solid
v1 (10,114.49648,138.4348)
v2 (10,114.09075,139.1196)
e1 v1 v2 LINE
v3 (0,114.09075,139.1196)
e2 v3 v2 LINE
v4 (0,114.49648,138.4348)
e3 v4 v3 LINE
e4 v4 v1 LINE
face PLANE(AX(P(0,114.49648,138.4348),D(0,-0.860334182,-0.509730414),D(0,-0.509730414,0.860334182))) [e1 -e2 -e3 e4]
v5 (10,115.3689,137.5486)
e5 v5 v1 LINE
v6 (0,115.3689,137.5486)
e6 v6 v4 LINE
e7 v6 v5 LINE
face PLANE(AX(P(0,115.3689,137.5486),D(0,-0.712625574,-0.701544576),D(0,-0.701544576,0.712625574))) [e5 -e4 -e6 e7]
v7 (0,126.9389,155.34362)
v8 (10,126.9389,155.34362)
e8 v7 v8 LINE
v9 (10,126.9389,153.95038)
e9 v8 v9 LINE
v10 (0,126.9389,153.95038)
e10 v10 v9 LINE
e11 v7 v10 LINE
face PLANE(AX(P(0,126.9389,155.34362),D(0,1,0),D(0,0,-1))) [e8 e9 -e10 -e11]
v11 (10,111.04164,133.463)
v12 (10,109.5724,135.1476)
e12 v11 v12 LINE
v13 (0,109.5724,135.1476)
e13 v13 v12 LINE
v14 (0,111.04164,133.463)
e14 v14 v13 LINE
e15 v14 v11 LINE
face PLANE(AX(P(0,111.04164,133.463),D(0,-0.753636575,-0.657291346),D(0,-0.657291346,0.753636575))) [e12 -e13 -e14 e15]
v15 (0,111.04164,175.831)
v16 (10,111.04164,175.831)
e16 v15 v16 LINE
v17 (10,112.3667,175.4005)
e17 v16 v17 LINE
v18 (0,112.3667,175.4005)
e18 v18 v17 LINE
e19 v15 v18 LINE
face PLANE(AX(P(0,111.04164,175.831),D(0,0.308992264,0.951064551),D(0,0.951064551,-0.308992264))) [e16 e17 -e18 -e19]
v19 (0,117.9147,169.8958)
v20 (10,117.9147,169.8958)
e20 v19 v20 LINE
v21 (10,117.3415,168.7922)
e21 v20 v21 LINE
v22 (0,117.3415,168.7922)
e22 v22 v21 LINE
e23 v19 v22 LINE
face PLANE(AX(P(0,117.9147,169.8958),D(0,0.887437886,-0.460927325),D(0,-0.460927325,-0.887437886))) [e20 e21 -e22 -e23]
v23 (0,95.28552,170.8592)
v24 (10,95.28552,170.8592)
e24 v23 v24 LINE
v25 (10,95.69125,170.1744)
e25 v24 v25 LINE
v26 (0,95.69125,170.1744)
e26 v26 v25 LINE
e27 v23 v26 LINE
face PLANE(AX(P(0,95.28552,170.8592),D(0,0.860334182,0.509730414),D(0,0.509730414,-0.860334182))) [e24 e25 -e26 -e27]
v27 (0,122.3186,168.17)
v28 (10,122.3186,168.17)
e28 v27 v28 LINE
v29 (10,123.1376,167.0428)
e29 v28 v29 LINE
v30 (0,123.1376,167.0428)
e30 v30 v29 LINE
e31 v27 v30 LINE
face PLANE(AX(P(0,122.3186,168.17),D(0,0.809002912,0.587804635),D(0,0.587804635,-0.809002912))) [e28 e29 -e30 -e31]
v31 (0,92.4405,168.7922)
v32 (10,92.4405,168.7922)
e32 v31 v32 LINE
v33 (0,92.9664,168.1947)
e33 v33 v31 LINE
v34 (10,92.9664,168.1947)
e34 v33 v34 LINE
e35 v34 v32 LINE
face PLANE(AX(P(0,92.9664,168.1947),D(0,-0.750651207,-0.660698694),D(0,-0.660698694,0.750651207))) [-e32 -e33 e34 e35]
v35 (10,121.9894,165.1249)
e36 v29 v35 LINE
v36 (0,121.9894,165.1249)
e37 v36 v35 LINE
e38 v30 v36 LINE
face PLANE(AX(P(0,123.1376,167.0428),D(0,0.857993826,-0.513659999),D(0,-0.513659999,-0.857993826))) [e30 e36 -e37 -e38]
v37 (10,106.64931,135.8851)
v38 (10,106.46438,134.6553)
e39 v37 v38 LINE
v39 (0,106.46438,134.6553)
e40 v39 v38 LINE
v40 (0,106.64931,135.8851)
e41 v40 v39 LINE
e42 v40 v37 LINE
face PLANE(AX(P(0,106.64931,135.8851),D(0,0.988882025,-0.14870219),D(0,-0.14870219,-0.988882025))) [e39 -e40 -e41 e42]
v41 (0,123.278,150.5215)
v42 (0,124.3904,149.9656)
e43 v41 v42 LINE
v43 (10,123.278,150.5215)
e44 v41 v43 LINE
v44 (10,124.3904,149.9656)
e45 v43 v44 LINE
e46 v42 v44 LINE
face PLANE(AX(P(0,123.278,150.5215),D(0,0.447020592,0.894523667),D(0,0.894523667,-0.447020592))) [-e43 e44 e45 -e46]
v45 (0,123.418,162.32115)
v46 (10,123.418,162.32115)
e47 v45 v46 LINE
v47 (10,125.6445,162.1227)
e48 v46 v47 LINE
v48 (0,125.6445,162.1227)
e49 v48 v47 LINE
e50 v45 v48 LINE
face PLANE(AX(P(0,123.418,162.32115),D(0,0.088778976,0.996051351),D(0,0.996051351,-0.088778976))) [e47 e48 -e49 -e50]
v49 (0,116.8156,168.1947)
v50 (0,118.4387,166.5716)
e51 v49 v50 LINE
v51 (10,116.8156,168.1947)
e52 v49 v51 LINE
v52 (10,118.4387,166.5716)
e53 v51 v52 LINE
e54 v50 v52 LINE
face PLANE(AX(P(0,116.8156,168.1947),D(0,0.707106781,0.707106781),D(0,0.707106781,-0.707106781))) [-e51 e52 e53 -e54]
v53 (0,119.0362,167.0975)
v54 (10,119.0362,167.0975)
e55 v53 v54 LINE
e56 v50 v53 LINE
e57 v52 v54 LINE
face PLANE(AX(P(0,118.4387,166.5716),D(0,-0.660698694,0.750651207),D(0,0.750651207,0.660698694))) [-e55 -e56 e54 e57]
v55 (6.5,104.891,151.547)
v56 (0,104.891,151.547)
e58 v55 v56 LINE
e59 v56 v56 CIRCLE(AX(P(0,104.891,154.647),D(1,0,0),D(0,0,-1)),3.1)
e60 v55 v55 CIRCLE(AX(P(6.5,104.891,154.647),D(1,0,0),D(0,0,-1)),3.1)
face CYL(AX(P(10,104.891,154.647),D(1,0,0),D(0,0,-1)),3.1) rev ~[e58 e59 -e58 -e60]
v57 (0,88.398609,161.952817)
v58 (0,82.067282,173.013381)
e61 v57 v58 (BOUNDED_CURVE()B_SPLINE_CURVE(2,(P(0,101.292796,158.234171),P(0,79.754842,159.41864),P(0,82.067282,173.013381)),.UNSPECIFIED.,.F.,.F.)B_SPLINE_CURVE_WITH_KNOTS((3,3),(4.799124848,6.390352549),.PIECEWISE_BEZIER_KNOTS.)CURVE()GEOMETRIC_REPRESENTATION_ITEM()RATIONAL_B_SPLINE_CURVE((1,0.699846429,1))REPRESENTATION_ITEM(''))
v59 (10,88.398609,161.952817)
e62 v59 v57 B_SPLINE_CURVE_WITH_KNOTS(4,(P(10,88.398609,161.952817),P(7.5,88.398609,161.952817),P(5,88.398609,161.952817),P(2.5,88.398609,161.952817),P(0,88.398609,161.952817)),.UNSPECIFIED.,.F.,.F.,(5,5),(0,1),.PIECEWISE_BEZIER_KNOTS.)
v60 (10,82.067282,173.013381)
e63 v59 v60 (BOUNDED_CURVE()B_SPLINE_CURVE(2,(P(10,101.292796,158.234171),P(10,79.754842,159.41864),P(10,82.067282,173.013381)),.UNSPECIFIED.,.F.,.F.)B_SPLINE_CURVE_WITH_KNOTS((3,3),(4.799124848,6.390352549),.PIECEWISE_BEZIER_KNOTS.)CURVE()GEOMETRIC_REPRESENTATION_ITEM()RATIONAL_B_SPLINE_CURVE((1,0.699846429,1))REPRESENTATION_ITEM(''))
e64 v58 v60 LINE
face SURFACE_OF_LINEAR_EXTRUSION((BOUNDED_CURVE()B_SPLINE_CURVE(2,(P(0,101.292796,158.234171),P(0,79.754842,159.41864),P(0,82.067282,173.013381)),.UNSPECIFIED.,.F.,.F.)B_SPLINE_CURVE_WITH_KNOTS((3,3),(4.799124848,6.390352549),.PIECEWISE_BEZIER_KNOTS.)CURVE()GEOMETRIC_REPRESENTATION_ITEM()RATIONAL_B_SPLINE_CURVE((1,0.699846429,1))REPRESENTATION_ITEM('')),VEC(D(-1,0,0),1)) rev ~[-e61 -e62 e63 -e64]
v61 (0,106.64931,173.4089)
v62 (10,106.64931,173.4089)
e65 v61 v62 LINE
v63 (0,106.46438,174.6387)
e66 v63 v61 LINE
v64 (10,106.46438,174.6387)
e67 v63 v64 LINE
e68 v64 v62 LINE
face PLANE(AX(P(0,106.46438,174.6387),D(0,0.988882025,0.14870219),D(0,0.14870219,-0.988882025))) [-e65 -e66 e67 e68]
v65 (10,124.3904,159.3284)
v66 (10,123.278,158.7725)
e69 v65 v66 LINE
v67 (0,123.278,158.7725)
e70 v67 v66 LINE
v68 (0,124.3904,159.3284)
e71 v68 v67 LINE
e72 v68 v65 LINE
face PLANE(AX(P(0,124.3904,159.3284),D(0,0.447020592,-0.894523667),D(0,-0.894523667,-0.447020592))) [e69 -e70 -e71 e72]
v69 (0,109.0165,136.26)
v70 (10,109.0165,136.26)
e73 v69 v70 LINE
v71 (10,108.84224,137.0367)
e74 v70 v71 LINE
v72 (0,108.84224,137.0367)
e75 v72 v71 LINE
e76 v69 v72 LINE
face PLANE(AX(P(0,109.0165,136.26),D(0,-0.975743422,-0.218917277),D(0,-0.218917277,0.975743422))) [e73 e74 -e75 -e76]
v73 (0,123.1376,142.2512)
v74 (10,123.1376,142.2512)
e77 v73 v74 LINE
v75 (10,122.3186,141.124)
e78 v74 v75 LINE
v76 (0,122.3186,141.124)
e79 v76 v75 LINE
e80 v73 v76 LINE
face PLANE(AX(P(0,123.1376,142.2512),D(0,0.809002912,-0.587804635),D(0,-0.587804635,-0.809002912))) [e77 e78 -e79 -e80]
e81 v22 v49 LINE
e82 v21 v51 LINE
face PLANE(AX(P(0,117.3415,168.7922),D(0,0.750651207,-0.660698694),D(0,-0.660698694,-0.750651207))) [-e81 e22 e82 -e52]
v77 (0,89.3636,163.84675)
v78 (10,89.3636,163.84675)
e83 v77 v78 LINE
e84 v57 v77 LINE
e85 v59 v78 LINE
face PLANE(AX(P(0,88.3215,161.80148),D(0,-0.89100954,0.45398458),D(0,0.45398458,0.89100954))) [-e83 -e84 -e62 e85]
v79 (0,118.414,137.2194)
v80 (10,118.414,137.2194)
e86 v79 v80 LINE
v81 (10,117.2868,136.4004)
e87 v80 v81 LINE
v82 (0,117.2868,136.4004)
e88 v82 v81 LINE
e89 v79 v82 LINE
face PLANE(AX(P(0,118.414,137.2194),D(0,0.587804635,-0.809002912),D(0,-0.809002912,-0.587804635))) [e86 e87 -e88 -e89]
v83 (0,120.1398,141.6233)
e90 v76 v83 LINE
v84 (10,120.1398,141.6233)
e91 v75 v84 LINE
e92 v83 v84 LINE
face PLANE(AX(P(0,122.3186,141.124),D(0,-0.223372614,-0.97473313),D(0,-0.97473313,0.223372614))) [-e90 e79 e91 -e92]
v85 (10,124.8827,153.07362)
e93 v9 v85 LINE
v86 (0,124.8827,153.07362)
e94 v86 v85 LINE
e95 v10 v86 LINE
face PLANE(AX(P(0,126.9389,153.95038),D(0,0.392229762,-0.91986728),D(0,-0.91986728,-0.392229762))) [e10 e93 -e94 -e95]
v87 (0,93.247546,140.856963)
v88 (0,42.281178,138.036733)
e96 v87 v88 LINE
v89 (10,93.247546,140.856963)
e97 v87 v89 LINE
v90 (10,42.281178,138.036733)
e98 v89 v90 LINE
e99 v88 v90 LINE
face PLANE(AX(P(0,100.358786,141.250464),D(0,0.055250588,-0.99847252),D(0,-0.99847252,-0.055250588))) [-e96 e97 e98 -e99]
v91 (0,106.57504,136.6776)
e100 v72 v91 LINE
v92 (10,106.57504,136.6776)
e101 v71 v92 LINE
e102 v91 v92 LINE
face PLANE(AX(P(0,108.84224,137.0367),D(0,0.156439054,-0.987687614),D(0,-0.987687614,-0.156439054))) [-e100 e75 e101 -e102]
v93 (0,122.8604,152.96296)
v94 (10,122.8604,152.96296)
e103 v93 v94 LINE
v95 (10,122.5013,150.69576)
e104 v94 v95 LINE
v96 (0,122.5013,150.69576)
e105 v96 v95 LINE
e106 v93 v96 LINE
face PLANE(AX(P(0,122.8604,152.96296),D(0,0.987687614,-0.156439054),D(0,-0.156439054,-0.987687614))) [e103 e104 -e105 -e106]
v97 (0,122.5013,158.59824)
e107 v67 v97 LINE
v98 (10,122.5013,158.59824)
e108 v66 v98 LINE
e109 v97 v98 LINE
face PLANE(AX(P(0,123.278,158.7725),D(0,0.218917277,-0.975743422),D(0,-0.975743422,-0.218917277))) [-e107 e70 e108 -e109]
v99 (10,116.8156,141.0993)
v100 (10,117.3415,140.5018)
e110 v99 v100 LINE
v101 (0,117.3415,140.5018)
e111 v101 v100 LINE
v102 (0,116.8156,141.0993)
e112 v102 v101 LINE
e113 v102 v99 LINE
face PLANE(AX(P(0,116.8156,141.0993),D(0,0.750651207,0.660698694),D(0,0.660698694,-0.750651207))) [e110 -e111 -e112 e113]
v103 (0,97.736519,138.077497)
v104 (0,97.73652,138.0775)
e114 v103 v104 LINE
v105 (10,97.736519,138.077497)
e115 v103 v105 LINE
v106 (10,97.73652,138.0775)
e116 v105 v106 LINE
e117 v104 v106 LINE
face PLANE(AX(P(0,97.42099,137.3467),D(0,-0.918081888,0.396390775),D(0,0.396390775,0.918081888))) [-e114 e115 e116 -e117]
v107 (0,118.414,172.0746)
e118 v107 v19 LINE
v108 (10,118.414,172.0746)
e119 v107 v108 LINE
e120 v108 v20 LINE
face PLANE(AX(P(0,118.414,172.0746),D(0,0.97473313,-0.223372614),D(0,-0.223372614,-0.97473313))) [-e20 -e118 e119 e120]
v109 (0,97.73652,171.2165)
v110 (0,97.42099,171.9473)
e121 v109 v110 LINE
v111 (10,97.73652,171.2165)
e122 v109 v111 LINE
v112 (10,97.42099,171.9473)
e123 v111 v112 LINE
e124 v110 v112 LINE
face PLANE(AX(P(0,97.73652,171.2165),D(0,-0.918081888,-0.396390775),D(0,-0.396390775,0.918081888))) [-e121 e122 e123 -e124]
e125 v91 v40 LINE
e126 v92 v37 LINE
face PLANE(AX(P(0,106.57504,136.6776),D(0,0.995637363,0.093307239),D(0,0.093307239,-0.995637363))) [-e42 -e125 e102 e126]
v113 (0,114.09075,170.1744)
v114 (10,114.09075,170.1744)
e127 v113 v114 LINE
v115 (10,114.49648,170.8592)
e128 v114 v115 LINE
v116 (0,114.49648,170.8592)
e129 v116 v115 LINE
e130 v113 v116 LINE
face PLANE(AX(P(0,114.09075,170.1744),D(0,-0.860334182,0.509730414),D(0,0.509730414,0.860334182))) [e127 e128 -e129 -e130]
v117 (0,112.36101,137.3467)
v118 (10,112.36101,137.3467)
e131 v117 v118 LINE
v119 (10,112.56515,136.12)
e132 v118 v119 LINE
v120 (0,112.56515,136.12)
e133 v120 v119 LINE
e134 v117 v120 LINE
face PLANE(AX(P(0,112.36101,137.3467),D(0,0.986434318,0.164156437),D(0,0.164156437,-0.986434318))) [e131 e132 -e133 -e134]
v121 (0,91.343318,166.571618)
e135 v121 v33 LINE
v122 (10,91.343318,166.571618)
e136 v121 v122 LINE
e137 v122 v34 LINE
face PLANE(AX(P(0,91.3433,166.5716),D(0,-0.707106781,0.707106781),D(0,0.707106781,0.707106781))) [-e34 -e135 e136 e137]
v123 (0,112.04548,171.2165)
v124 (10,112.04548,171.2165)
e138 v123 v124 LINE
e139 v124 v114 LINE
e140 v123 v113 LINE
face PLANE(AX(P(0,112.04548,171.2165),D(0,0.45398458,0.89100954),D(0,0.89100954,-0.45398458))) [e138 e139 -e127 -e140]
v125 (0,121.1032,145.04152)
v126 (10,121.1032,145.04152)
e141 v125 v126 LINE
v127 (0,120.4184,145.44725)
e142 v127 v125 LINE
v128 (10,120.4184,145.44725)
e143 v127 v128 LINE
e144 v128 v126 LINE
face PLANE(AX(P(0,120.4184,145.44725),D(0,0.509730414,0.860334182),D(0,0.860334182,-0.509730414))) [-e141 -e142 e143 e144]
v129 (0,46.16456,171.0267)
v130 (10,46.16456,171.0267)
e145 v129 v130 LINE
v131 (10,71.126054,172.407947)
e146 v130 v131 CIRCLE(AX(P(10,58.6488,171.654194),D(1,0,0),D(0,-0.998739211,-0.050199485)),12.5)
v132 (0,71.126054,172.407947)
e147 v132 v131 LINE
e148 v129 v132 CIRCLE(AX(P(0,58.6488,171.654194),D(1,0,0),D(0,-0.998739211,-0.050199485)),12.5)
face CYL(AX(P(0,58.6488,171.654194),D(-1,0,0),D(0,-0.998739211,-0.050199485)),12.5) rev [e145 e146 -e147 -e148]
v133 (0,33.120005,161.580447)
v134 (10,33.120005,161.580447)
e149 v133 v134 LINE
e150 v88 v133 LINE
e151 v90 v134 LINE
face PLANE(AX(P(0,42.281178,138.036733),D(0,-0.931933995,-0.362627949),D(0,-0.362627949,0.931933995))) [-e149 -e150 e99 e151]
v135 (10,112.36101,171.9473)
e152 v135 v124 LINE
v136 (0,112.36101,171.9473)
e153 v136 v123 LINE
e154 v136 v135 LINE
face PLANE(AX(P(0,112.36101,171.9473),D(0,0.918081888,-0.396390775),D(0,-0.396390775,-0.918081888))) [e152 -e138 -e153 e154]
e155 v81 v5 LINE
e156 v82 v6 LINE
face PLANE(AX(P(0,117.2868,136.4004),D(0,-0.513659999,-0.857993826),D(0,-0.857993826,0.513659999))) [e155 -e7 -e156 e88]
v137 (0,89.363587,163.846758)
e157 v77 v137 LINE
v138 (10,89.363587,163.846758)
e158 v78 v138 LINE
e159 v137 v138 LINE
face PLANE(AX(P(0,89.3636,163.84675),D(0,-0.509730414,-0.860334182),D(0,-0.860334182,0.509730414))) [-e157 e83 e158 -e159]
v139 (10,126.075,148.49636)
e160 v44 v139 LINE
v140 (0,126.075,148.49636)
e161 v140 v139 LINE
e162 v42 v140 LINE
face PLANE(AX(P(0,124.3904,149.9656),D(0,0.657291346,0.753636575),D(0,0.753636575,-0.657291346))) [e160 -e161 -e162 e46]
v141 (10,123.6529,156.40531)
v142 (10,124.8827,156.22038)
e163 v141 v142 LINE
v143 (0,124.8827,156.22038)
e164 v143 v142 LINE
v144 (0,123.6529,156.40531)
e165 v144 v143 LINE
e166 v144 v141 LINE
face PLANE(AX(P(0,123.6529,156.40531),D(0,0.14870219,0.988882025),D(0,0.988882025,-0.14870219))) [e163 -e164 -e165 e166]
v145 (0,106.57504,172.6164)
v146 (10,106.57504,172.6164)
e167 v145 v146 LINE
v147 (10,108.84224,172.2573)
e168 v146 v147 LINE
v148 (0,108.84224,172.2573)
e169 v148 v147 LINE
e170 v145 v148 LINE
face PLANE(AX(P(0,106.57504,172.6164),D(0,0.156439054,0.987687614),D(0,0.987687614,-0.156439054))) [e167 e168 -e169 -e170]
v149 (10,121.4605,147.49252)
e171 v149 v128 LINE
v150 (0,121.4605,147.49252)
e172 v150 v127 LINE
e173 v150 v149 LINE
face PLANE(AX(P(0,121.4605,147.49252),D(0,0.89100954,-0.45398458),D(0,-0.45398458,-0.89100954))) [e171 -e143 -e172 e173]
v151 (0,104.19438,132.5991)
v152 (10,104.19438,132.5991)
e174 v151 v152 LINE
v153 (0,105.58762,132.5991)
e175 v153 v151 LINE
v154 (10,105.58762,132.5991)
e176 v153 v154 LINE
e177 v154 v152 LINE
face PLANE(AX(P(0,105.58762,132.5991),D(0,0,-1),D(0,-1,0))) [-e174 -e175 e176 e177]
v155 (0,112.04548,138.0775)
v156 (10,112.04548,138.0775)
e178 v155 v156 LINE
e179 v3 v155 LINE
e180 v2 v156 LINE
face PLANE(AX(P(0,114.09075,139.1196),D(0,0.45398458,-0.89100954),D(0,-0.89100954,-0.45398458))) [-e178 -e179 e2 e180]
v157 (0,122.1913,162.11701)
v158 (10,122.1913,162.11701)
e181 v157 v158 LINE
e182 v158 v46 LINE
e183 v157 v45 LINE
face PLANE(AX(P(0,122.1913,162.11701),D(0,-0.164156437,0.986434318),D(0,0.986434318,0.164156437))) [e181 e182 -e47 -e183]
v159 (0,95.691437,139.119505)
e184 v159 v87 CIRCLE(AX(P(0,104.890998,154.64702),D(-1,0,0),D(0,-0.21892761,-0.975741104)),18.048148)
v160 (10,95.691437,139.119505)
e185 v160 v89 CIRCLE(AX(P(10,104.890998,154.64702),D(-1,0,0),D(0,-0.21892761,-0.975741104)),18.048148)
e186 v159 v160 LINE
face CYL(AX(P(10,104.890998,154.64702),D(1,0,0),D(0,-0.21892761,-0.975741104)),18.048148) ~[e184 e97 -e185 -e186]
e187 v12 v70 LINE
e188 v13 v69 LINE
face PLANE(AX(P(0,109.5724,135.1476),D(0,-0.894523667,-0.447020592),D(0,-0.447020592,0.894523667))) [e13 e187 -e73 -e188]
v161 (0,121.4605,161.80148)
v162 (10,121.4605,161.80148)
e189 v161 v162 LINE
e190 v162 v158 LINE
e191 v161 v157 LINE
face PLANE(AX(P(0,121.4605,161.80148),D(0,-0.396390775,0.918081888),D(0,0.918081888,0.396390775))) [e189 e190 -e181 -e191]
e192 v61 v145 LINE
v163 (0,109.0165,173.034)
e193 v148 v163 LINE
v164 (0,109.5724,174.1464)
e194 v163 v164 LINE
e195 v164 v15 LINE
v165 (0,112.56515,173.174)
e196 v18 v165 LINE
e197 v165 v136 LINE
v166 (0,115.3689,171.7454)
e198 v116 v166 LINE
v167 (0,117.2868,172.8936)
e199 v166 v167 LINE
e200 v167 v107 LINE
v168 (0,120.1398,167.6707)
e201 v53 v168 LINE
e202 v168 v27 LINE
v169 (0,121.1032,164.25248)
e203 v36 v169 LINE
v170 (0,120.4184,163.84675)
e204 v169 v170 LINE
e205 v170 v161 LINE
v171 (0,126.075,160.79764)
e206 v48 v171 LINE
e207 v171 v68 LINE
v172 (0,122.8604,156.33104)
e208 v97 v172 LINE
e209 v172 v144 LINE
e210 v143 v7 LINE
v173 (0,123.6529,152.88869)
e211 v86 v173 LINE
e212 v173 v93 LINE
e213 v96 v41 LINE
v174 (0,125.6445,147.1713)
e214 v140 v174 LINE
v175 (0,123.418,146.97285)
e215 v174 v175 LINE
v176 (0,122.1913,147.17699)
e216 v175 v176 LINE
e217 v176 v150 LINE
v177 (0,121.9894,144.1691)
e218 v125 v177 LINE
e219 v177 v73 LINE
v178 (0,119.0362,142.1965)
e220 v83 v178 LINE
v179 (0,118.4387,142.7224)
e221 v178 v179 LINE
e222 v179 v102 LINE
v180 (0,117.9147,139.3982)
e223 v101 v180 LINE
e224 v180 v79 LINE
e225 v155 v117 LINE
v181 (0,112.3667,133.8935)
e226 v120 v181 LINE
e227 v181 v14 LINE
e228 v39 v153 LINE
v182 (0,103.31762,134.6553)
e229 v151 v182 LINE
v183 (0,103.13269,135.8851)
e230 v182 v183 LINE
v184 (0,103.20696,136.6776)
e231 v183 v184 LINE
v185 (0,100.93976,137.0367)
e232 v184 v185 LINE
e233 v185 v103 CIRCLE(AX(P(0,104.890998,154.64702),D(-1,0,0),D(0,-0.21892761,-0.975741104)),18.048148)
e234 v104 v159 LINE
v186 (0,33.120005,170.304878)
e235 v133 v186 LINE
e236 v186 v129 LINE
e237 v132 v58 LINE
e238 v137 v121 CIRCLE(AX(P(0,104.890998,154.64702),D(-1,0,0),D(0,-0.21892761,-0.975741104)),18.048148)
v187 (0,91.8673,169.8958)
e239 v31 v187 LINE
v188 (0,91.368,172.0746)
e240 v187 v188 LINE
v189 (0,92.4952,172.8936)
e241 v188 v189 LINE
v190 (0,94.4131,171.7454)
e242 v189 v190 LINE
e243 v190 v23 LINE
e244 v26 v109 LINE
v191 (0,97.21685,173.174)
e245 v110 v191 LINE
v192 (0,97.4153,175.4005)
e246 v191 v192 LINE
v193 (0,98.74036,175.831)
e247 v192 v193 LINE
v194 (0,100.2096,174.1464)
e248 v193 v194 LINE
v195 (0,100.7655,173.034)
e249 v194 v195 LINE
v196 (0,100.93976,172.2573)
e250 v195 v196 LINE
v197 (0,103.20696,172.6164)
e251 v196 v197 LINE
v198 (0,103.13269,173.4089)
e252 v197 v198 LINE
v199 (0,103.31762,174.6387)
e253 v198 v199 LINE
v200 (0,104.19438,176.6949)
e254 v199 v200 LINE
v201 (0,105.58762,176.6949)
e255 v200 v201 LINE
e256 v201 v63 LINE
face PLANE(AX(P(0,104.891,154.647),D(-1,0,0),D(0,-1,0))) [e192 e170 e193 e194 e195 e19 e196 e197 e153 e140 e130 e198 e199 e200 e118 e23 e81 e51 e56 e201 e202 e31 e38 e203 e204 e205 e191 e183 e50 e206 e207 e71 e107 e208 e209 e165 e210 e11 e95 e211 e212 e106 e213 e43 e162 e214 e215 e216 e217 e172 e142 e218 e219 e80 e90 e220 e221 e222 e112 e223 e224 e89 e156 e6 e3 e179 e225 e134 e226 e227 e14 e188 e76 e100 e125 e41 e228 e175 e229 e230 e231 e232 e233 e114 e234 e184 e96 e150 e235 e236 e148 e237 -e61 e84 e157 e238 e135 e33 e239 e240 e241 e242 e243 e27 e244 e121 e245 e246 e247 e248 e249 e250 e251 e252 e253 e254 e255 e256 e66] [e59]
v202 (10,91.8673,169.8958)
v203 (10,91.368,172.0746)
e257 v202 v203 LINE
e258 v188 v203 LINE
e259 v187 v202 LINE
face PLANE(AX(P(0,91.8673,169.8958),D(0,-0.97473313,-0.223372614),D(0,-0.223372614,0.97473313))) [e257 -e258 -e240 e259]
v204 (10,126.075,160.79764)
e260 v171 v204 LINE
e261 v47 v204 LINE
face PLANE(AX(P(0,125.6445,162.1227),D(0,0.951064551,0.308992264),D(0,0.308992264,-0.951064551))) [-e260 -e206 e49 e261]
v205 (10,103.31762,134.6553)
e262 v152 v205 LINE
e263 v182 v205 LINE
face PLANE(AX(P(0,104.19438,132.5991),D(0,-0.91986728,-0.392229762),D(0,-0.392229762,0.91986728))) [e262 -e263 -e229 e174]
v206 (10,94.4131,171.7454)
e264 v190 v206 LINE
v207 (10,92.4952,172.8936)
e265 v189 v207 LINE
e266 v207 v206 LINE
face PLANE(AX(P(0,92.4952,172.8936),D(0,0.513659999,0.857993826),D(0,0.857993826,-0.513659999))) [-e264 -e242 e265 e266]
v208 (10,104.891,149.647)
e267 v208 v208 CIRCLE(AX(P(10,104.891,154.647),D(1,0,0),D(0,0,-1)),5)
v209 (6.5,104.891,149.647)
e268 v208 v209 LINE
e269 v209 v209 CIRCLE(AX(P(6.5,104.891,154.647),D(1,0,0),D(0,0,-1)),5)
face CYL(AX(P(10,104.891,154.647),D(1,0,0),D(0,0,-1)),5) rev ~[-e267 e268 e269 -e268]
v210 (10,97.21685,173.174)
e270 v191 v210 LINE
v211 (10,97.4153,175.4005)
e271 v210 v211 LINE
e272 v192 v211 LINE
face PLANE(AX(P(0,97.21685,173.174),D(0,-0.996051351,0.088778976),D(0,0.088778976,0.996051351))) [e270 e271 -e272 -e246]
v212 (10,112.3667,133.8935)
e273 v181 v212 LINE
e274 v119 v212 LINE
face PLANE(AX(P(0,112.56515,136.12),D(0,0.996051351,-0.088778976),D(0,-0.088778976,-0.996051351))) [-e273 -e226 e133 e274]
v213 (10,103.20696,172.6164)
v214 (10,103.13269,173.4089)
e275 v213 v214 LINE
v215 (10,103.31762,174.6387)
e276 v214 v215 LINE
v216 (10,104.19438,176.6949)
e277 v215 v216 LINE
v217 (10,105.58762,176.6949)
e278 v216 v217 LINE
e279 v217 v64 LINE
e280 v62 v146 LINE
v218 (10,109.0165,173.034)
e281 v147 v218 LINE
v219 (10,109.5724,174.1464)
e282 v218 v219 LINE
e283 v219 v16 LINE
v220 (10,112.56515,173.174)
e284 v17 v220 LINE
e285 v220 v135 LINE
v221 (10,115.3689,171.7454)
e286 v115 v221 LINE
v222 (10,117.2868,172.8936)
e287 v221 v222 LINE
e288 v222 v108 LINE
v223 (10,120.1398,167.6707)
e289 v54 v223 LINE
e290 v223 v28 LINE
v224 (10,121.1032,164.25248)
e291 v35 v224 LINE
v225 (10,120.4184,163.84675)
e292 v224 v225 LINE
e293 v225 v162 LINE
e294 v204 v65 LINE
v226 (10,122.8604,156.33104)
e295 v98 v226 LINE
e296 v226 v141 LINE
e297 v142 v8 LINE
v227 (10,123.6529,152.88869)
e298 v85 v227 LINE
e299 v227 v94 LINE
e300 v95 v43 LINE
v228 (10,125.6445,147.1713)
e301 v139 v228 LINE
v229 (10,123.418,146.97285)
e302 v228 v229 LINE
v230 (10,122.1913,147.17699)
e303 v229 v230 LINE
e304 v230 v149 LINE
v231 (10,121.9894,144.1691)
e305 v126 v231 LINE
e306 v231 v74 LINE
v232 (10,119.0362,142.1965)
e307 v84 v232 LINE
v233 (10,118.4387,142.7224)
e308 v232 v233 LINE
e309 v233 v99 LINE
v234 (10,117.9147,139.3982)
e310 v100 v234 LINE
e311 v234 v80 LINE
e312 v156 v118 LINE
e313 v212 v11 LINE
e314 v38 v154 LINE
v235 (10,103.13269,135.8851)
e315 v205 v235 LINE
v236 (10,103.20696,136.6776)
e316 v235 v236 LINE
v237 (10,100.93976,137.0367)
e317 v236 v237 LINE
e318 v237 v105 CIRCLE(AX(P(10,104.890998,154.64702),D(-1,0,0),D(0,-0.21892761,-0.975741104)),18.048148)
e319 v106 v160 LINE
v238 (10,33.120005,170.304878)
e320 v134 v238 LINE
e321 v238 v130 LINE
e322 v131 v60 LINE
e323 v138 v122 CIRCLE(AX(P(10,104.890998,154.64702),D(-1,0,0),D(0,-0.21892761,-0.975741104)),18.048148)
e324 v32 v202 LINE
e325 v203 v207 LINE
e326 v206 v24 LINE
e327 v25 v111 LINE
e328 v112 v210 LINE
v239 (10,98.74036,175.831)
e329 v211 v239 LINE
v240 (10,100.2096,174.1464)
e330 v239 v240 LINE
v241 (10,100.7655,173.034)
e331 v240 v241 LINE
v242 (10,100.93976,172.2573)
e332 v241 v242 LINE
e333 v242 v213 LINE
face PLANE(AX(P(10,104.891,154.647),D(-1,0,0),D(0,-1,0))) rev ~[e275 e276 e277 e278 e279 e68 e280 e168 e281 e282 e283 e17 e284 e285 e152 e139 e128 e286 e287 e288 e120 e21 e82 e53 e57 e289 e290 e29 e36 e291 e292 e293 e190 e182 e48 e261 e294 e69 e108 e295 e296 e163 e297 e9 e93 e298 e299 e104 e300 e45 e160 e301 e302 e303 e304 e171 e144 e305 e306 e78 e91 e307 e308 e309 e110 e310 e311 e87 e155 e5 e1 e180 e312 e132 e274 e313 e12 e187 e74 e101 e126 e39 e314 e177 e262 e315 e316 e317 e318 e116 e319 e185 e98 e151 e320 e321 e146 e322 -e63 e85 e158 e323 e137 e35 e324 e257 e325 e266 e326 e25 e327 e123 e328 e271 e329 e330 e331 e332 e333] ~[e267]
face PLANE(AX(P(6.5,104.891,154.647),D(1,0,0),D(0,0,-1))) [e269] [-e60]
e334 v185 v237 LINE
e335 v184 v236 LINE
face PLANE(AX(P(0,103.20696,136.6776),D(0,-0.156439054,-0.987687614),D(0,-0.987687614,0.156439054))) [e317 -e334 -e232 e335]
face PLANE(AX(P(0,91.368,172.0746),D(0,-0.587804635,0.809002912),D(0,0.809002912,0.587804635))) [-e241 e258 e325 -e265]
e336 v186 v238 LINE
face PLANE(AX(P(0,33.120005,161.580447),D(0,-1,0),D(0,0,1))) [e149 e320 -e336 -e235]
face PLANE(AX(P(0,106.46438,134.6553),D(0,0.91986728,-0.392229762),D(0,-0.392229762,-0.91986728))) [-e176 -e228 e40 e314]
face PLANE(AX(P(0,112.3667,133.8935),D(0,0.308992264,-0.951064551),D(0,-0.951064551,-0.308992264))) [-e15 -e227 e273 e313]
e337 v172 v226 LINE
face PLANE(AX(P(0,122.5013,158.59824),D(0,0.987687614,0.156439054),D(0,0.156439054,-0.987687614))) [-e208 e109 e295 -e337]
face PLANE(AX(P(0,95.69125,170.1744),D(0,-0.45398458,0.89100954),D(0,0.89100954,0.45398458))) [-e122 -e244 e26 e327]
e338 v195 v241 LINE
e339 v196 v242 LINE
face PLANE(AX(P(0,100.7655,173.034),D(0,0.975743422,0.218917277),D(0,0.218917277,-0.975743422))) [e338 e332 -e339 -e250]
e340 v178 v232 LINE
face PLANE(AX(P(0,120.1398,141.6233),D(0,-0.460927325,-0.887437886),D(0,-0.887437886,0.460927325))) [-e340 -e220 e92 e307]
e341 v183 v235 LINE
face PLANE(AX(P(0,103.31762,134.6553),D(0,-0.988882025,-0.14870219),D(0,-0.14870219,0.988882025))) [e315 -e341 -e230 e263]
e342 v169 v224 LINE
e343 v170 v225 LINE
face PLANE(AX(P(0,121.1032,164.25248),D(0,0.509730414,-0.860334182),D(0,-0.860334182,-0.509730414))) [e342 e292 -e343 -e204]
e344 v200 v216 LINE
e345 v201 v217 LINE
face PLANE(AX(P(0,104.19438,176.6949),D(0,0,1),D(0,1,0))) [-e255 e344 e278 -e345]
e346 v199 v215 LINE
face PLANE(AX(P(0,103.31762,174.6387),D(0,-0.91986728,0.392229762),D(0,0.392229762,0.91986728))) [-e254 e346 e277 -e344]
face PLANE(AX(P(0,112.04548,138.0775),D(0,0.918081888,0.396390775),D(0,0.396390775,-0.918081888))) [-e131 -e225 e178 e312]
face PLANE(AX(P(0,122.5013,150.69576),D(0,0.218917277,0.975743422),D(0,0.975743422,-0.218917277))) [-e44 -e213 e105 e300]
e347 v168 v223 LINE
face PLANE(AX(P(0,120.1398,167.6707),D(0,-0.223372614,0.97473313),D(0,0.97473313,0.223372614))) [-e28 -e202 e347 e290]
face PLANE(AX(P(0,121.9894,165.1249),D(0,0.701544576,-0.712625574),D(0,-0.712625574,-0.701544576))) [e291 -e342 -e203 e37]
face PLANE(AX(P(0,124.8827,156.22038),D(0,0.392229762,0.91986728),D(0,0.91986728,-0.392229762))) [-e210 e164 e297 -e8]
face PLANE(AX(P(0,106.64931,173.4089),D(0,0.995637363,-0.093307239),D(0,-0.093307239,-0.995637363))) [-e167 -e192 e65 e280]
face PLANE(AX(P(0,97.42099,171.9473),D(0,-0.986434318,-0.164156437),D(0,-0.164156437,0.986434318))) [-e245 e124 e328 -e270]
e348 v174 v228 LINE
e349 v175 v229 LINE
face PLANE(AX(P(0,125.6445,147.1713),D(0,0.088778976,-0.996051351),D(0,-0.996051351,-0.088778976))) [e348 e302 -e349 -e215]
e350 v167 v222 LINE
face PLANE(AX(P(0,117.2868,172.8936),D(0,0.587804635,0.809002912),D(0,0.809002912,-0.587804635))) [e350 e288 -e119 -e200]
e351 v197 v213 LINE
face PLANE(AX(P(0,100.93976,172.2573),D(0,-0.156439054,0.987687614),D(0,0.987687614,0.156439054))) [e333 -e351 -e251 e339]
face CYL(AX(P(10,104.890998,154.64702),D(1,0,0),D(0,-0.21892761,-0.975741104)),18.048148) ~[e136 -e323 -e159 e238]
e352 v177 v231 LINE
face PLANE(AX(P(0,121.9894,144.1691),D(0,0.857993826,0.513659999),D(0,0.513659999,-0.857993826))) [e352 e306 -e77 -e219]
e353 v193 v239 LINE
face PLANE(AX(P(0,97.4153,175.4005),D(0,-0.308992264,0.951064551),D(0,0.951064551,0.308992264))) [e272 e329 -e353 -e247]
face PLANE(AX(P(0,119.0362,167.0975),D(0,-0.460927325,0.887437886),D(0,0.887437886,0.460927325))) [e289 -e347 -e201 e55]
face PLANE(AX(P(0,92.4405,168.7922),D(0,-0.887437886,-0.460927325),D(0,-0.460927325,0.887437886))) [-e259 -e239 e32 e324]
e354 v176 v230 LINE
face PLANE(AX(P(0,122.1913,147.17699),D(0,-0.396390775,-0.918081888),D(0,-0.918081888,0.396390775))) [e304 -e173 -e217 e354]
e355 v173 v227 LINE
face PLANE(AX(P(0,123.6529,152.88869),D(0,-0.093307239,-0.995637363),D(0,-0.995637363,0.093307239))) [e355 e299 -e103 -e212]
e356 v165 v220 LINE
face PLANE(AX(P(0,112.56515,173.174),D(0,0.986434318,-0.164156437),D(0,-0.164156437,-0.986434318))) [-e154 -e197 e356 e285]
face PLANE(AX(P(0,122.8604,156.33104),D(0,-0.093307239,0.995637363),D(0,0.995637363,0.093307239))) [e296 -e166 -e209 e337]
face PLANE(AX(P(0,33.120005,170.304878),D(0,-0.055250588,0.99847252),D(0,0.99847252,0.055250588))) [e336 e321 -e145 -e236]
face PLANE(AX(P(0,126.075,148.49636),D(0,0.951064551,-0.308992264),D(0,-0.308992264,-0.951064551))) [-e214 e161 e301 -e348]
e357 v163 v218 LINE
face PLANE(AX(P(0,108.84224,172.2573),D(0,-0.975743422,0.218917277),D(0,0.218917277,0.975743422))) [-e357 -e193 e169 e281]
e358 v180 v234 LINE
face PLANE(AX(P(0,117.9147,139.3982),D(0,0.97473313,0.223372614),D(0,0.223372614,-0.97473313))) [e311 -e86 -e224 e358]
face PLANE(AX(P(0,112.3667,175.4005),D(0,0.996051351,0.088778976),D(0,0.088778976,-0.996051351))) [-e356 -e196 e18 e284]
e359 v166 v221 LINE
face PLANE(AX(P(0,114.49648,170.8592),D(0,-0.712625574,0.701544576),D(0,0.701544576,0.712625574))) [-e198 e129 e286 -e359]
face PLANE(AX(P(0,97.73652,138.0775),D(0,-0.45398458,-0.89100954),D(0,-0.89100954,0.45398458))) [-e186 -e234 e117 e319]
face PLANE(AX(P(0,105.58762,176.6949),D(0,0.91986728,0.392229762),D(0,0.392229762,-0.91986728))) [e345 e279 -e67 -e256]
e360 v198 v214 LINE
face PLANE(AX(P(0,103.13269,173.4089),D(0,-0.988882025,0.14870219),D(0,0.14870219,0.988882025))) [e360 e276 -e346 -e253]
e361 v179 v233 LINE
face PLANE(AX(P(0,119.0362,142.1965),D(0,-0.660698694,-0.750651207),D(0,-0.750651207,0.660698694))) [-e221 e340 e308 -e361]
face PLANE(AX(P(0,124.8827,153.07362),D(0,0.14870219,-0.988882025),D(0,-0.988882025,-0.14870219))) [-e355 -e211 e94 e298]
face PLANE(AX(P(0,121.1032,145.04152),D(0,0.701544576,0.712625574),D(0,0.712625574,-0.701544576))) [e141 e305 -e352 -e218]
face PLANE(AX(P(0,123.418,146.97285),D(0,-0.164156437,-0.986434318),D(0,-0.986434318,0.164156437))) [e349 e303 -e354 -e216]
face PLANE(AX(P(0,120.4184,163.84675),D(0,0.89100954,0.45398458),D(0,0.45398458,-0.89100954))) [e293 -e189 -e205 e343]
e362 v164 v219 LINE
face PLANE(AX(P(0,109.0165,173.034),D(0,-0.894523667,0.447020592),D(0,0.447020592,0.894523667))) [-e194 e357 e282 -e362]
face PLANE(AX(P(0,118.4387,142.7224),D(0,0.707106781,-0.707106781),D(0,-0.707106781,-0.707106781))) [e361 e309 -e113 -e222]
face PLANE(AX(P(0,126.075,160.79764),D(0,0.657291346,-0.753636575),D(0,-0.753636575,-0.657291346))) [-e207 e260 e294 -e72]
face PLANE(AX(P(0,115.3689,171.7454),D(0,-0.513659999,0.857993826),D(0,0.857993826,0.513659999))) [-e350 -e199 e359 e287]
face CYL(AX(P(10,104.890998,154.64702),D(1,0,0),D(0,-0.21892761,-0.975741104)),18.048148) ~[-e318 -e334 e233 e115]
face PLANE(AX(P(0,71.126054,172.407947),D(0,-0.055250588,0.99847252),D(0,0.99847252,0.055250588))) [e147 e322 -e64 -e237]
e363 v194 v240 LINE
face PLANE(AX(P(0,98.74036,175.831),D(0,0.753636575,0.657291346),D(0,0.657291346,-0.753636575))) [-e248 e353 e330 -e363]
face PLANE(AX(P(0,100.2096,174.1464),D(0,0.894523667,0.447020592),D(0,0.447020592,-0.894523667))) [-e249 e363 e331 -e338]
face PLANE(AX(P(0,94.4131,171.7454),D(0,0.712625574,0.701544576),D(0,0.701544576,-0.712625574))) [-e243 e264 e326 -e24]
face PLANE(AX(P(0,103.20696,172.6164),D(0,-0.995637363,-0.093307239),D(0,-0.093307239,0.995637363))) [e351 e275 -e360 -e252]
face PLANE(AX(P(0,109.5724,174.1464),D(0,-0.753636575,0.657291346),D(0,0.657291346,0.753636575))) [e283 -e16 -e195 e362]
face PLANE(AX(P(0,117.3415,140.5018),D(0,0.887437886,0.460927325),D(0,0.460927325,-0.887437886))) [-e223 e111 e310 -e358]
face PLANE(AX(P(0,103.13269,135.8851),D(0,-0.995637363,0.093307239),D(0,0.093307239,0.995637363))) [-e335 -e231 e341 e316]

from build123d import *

# Parameters (mm, degrees)
BOSS_EXTRUDE1_DEPTH = 10
SKETCH3_R           = 3.1
CUT_EXTRUDE1_DEPTH  = 10
CUT_EXTRUDE4_DEPTH  = 10
BOSS_EXTRUDE2_DEPTH = 10
SKETCH9_R           = 5
CUT_EXTRUDE5_DEPTH  = 3.5


with BuildPart() as part:
    # Sketch1 → Boss-Extrude1 (new body)
    with BuildSketch(Plane.YZ):
        Polygon((122.8604, 156.33104), (123.6529, 156.40531), (124.8827, 156.22038), (126.9389, 155.34362), (126.9389, 153.95038), (124.8827, 153.07362), (123.6529, 152.88869), (122.8604, 152.96296), (122.5013, 150.69576), (123.278, 150.5215), (124.3904, 149.9656), (126.075, 148.49636), (125.6445, 147.1713), (123.418, 146.97285), (122.1913, 147.17699), (121.4605, 147.49252), (120.4184, 145.44725), (121.1032, 145.04152), (121.9894, 144.1691), (123.1376, 142.2512), (122.3186, 141.124), (120.1398, 141.6233), (119.0362, 142.1965), (118.4387, 142.7224), (116.8156, 141.0993), (117.3415, 140.5018), (117.9147, 139.3982), (118.414, 137.2194), (117.2868, 136.4004), (115.3689, 137.5486), (114.49648, 138.4348), (114.09075, 139.1196), (112.04548, 138.0775), (112.36101, 137.3467), (112.56515, 136.12), (112.3667, 133.8935), (111.04164, 133.463), (109.5724, 135.1476), (109.0165, 136.26), (108.84224, 137.0367), (106.57504, 136.6776), (106.64931, 135.8851), (106.46438, 134.6553), (105.58762, 132.5991), (104.19438, 132.5991), (103.31762, 134.6553), (103.13269, 135.8851), (103.20696, 136.6776), (100.93976, 137.0367), (100.7655, 136.26), (100.2096, 135.1476), (98.74036, 133.463), (97.4153, 133.8935), (97.21685, 136.12), (97.42099, 137.3467), (97.73652, 138.0775), (95.69125, 139.1196), (95.28552, 138.4348), (94.4131, 137.5486), (92.4952, 136.4004), (91.368, 137.2194), (91.8673, 139.3982), (92.4405, 140.5018), (92.9664, 141.0993), (91.3433, 142.7224), (90.7458, 142.1965), (89.6422, 141.6233), (87.4634, 141.124), (86.6444, 142.2512), (87.7926, 144.1691), (88.6788, 145.04152), (89.3636, 145.44725), (88.3215, 147.49252), (87.5907, 147.17699), (86.364, 146.97285), (84.1375, 147.1713), (83.707, 148.49636), (85.3916, 149.9656), (86.504, 150.5215), (87.2807, 150.69576), (86.9216, 152.96296), (86.1291, 152.88869), (84.8993, 153.07362), (82.8431, 153.95038), (82.8431, 155.34362), (84.8993, 156.22038), (86.1291, 156.40531), (86.9216, 156.33104), (87.2807, 158.59824), (86.504, 158.7725), (85.3916, 159.3284), (83.707, 160.79764), (84.1375, 162.1227), (86.364, 162.32115), (87.5907, 162.11701), (88.3215, 161.80148), (89.3636, 163.84675), (88.6788, 164.25248), (87.7926, 165.1249), (86.6444, 167.0428), (87.4634, 168.17), (89.6422, 167.6707), (90.7458, 167.0975), (91.3433, 166.5716), (92.9664, 168.1947), (92.4405, 168.7922), (91.8673, 169.8958), (91.368, 172.0746), (92.4952, 172.8936), (94.4131, 171.7454), (95.28552, 170.8592), (95.69125, 170.1744), (97.73652, 171.2165), (97.42099, 171.9473), (97.21685, 173.174), (97.4153, 175.4005), (98.74036, 175.831), (100.2096, 174.1464), (100.7655, 173.034), (100.93976, 172.2573), (103.20696, 172.6164), (103.13269, 173.4089), (103.31762, 174.6387), (104.19438, 176.6949), (105.58762, 176.6949), (106.46438, 174.6387), (106.64931, 173.4089), (106.57504, 172.6164), (108.84224, 172.2573), (109.0165, 173.034), (109.5724, 174.1464), (111.04164, 175.831), (112.3667, 175.4005), (112.56515, 173.174), (112.36101, 171.9473), (112.04548, 171.2165), (114.09075, 170.1744), (114.49648, 170.8592), (115.3689, 171.7454), (117.2868, 172.8936), (118.414, 172.0746), (117.9147, 169.8958), (117.3415, 168.7922), (116.8156, 168.1947), (118.4387, 166.5716), (119.0362, 167.0975), (120.1398, 167.6707), (122.3186, 168.17), (123.1376, 167.0428), (121.9894, 165.1249), (121.1032, 164.25248), (120.4184, 163.84675), (121.4605, 161.80148), (122.1913, 162.11701), (123.418, 162.32115), (125.6445, 162.1227), (126.075, 160.79764), (124.3904, 159.3284), (123.278, 158.7725), (122.5013, 158.59824), align=None)
    extrude(amount=BOSS_EXTRUDE1_DEPTH)

    # Sketch3 → Cut-Extrude1 (cut)
    with BuildSketch(Plane.YZ.offset(10)):
        with Locations(Location((104.891, 154.647, 0), (0, 0, 270))):
            Circle(SKETCH3_R)
    extrude(amount=-CUT_EXTRUDE1_DEPTH, mode=Mode.SUBTRACT)

    # Sketch5 → Cut-Extrude4 (cut)
    with BuildSketch(Plane.YZ.offset(10)):
        with BuildLine():
            Line((92.9664, 168.1947), (90.294048938, 171.230794333))
            ThreePointArc((90.294048938, 171.230794333), (83.487848916, 149.169926106), (100.054261516, 133.090117674))
            Line((100.054261516, 133.090117674), (100.93976, 137.0367))
            ThreePointArc((100.93976, 137.0367), (87.406270735, 150.172651628), (92.9664, 168.1947))
        make_face()
    extrude(amount=-CUT_EXTRUDE4_DEPTH, mode=Mode.SUBTRACT)


with BuildPart() as cut_extrude4_kept_piece:
    # of the separate pieces the step leaves, the one the design keeps (cut_extrude4_pieces_kept)
    add(part.part.solids().sort_by_distance((0, 122.8604, 156.33104))[0])

    # Sketch8 → Boss-Extrude2 (add)
    with BuildSketch(Plane(origin=(0, 0, 0), x_dir=(0, -1, 0), z_dir=(-1, 0, 0))):
        with BuildLine():
            Line((-101.292796156, 158.234170992), (-100.358785712, 141.250463774))
            Line((-100.358785712, 141.250463774), (-42.28117848, 138.036732938))
            Line((-42.28117848, 138.036732938), (-33.120005133, 161.580447331))
            Line((-33.120005133, 161.580447331), (-33.120005133, 170.304878432))
            Line((-33.120005133, 170.304878432), (-46.164559873, 171.026700315))
            ThreePointArc((-46.164559873, 171.026700315), (-59.339432356, 159.173287387), (-71.126053545, 172.407947335))
            Line((-71.126053545, 172.407947335), (-82.067282372, 173.013381445))
            add(Edge.make_bspline(
                [(-101.292796156, 158.234170992), (-79.754841913, 159.418639963), (-82.067282372, 173.013381445)],
                knots=[4.799124848, 4.799124848, 4.799124848, 6.390352549, 6.390352549, 6.390352549], degree=2, weights=[1, 0.699846429, 1]))
        make_face()
    extrude(amount=-BOSS_EXTRUDE2_DEPTH)

    # Sketch9 → Cut-Extrude5 (cut)
    with BuildSketch(Plane.YZ.offset(10)):
        with Locations(Location((104.891, 154.647, 0), (0, 0, 270))):
            Circle(SKETCH9_R)
    extrude(amount=-CUT_EXTRUDE5_DEPTH, mode=Mode.SUBTRACT)


solid = cut_extrude4_kept_piece.part
